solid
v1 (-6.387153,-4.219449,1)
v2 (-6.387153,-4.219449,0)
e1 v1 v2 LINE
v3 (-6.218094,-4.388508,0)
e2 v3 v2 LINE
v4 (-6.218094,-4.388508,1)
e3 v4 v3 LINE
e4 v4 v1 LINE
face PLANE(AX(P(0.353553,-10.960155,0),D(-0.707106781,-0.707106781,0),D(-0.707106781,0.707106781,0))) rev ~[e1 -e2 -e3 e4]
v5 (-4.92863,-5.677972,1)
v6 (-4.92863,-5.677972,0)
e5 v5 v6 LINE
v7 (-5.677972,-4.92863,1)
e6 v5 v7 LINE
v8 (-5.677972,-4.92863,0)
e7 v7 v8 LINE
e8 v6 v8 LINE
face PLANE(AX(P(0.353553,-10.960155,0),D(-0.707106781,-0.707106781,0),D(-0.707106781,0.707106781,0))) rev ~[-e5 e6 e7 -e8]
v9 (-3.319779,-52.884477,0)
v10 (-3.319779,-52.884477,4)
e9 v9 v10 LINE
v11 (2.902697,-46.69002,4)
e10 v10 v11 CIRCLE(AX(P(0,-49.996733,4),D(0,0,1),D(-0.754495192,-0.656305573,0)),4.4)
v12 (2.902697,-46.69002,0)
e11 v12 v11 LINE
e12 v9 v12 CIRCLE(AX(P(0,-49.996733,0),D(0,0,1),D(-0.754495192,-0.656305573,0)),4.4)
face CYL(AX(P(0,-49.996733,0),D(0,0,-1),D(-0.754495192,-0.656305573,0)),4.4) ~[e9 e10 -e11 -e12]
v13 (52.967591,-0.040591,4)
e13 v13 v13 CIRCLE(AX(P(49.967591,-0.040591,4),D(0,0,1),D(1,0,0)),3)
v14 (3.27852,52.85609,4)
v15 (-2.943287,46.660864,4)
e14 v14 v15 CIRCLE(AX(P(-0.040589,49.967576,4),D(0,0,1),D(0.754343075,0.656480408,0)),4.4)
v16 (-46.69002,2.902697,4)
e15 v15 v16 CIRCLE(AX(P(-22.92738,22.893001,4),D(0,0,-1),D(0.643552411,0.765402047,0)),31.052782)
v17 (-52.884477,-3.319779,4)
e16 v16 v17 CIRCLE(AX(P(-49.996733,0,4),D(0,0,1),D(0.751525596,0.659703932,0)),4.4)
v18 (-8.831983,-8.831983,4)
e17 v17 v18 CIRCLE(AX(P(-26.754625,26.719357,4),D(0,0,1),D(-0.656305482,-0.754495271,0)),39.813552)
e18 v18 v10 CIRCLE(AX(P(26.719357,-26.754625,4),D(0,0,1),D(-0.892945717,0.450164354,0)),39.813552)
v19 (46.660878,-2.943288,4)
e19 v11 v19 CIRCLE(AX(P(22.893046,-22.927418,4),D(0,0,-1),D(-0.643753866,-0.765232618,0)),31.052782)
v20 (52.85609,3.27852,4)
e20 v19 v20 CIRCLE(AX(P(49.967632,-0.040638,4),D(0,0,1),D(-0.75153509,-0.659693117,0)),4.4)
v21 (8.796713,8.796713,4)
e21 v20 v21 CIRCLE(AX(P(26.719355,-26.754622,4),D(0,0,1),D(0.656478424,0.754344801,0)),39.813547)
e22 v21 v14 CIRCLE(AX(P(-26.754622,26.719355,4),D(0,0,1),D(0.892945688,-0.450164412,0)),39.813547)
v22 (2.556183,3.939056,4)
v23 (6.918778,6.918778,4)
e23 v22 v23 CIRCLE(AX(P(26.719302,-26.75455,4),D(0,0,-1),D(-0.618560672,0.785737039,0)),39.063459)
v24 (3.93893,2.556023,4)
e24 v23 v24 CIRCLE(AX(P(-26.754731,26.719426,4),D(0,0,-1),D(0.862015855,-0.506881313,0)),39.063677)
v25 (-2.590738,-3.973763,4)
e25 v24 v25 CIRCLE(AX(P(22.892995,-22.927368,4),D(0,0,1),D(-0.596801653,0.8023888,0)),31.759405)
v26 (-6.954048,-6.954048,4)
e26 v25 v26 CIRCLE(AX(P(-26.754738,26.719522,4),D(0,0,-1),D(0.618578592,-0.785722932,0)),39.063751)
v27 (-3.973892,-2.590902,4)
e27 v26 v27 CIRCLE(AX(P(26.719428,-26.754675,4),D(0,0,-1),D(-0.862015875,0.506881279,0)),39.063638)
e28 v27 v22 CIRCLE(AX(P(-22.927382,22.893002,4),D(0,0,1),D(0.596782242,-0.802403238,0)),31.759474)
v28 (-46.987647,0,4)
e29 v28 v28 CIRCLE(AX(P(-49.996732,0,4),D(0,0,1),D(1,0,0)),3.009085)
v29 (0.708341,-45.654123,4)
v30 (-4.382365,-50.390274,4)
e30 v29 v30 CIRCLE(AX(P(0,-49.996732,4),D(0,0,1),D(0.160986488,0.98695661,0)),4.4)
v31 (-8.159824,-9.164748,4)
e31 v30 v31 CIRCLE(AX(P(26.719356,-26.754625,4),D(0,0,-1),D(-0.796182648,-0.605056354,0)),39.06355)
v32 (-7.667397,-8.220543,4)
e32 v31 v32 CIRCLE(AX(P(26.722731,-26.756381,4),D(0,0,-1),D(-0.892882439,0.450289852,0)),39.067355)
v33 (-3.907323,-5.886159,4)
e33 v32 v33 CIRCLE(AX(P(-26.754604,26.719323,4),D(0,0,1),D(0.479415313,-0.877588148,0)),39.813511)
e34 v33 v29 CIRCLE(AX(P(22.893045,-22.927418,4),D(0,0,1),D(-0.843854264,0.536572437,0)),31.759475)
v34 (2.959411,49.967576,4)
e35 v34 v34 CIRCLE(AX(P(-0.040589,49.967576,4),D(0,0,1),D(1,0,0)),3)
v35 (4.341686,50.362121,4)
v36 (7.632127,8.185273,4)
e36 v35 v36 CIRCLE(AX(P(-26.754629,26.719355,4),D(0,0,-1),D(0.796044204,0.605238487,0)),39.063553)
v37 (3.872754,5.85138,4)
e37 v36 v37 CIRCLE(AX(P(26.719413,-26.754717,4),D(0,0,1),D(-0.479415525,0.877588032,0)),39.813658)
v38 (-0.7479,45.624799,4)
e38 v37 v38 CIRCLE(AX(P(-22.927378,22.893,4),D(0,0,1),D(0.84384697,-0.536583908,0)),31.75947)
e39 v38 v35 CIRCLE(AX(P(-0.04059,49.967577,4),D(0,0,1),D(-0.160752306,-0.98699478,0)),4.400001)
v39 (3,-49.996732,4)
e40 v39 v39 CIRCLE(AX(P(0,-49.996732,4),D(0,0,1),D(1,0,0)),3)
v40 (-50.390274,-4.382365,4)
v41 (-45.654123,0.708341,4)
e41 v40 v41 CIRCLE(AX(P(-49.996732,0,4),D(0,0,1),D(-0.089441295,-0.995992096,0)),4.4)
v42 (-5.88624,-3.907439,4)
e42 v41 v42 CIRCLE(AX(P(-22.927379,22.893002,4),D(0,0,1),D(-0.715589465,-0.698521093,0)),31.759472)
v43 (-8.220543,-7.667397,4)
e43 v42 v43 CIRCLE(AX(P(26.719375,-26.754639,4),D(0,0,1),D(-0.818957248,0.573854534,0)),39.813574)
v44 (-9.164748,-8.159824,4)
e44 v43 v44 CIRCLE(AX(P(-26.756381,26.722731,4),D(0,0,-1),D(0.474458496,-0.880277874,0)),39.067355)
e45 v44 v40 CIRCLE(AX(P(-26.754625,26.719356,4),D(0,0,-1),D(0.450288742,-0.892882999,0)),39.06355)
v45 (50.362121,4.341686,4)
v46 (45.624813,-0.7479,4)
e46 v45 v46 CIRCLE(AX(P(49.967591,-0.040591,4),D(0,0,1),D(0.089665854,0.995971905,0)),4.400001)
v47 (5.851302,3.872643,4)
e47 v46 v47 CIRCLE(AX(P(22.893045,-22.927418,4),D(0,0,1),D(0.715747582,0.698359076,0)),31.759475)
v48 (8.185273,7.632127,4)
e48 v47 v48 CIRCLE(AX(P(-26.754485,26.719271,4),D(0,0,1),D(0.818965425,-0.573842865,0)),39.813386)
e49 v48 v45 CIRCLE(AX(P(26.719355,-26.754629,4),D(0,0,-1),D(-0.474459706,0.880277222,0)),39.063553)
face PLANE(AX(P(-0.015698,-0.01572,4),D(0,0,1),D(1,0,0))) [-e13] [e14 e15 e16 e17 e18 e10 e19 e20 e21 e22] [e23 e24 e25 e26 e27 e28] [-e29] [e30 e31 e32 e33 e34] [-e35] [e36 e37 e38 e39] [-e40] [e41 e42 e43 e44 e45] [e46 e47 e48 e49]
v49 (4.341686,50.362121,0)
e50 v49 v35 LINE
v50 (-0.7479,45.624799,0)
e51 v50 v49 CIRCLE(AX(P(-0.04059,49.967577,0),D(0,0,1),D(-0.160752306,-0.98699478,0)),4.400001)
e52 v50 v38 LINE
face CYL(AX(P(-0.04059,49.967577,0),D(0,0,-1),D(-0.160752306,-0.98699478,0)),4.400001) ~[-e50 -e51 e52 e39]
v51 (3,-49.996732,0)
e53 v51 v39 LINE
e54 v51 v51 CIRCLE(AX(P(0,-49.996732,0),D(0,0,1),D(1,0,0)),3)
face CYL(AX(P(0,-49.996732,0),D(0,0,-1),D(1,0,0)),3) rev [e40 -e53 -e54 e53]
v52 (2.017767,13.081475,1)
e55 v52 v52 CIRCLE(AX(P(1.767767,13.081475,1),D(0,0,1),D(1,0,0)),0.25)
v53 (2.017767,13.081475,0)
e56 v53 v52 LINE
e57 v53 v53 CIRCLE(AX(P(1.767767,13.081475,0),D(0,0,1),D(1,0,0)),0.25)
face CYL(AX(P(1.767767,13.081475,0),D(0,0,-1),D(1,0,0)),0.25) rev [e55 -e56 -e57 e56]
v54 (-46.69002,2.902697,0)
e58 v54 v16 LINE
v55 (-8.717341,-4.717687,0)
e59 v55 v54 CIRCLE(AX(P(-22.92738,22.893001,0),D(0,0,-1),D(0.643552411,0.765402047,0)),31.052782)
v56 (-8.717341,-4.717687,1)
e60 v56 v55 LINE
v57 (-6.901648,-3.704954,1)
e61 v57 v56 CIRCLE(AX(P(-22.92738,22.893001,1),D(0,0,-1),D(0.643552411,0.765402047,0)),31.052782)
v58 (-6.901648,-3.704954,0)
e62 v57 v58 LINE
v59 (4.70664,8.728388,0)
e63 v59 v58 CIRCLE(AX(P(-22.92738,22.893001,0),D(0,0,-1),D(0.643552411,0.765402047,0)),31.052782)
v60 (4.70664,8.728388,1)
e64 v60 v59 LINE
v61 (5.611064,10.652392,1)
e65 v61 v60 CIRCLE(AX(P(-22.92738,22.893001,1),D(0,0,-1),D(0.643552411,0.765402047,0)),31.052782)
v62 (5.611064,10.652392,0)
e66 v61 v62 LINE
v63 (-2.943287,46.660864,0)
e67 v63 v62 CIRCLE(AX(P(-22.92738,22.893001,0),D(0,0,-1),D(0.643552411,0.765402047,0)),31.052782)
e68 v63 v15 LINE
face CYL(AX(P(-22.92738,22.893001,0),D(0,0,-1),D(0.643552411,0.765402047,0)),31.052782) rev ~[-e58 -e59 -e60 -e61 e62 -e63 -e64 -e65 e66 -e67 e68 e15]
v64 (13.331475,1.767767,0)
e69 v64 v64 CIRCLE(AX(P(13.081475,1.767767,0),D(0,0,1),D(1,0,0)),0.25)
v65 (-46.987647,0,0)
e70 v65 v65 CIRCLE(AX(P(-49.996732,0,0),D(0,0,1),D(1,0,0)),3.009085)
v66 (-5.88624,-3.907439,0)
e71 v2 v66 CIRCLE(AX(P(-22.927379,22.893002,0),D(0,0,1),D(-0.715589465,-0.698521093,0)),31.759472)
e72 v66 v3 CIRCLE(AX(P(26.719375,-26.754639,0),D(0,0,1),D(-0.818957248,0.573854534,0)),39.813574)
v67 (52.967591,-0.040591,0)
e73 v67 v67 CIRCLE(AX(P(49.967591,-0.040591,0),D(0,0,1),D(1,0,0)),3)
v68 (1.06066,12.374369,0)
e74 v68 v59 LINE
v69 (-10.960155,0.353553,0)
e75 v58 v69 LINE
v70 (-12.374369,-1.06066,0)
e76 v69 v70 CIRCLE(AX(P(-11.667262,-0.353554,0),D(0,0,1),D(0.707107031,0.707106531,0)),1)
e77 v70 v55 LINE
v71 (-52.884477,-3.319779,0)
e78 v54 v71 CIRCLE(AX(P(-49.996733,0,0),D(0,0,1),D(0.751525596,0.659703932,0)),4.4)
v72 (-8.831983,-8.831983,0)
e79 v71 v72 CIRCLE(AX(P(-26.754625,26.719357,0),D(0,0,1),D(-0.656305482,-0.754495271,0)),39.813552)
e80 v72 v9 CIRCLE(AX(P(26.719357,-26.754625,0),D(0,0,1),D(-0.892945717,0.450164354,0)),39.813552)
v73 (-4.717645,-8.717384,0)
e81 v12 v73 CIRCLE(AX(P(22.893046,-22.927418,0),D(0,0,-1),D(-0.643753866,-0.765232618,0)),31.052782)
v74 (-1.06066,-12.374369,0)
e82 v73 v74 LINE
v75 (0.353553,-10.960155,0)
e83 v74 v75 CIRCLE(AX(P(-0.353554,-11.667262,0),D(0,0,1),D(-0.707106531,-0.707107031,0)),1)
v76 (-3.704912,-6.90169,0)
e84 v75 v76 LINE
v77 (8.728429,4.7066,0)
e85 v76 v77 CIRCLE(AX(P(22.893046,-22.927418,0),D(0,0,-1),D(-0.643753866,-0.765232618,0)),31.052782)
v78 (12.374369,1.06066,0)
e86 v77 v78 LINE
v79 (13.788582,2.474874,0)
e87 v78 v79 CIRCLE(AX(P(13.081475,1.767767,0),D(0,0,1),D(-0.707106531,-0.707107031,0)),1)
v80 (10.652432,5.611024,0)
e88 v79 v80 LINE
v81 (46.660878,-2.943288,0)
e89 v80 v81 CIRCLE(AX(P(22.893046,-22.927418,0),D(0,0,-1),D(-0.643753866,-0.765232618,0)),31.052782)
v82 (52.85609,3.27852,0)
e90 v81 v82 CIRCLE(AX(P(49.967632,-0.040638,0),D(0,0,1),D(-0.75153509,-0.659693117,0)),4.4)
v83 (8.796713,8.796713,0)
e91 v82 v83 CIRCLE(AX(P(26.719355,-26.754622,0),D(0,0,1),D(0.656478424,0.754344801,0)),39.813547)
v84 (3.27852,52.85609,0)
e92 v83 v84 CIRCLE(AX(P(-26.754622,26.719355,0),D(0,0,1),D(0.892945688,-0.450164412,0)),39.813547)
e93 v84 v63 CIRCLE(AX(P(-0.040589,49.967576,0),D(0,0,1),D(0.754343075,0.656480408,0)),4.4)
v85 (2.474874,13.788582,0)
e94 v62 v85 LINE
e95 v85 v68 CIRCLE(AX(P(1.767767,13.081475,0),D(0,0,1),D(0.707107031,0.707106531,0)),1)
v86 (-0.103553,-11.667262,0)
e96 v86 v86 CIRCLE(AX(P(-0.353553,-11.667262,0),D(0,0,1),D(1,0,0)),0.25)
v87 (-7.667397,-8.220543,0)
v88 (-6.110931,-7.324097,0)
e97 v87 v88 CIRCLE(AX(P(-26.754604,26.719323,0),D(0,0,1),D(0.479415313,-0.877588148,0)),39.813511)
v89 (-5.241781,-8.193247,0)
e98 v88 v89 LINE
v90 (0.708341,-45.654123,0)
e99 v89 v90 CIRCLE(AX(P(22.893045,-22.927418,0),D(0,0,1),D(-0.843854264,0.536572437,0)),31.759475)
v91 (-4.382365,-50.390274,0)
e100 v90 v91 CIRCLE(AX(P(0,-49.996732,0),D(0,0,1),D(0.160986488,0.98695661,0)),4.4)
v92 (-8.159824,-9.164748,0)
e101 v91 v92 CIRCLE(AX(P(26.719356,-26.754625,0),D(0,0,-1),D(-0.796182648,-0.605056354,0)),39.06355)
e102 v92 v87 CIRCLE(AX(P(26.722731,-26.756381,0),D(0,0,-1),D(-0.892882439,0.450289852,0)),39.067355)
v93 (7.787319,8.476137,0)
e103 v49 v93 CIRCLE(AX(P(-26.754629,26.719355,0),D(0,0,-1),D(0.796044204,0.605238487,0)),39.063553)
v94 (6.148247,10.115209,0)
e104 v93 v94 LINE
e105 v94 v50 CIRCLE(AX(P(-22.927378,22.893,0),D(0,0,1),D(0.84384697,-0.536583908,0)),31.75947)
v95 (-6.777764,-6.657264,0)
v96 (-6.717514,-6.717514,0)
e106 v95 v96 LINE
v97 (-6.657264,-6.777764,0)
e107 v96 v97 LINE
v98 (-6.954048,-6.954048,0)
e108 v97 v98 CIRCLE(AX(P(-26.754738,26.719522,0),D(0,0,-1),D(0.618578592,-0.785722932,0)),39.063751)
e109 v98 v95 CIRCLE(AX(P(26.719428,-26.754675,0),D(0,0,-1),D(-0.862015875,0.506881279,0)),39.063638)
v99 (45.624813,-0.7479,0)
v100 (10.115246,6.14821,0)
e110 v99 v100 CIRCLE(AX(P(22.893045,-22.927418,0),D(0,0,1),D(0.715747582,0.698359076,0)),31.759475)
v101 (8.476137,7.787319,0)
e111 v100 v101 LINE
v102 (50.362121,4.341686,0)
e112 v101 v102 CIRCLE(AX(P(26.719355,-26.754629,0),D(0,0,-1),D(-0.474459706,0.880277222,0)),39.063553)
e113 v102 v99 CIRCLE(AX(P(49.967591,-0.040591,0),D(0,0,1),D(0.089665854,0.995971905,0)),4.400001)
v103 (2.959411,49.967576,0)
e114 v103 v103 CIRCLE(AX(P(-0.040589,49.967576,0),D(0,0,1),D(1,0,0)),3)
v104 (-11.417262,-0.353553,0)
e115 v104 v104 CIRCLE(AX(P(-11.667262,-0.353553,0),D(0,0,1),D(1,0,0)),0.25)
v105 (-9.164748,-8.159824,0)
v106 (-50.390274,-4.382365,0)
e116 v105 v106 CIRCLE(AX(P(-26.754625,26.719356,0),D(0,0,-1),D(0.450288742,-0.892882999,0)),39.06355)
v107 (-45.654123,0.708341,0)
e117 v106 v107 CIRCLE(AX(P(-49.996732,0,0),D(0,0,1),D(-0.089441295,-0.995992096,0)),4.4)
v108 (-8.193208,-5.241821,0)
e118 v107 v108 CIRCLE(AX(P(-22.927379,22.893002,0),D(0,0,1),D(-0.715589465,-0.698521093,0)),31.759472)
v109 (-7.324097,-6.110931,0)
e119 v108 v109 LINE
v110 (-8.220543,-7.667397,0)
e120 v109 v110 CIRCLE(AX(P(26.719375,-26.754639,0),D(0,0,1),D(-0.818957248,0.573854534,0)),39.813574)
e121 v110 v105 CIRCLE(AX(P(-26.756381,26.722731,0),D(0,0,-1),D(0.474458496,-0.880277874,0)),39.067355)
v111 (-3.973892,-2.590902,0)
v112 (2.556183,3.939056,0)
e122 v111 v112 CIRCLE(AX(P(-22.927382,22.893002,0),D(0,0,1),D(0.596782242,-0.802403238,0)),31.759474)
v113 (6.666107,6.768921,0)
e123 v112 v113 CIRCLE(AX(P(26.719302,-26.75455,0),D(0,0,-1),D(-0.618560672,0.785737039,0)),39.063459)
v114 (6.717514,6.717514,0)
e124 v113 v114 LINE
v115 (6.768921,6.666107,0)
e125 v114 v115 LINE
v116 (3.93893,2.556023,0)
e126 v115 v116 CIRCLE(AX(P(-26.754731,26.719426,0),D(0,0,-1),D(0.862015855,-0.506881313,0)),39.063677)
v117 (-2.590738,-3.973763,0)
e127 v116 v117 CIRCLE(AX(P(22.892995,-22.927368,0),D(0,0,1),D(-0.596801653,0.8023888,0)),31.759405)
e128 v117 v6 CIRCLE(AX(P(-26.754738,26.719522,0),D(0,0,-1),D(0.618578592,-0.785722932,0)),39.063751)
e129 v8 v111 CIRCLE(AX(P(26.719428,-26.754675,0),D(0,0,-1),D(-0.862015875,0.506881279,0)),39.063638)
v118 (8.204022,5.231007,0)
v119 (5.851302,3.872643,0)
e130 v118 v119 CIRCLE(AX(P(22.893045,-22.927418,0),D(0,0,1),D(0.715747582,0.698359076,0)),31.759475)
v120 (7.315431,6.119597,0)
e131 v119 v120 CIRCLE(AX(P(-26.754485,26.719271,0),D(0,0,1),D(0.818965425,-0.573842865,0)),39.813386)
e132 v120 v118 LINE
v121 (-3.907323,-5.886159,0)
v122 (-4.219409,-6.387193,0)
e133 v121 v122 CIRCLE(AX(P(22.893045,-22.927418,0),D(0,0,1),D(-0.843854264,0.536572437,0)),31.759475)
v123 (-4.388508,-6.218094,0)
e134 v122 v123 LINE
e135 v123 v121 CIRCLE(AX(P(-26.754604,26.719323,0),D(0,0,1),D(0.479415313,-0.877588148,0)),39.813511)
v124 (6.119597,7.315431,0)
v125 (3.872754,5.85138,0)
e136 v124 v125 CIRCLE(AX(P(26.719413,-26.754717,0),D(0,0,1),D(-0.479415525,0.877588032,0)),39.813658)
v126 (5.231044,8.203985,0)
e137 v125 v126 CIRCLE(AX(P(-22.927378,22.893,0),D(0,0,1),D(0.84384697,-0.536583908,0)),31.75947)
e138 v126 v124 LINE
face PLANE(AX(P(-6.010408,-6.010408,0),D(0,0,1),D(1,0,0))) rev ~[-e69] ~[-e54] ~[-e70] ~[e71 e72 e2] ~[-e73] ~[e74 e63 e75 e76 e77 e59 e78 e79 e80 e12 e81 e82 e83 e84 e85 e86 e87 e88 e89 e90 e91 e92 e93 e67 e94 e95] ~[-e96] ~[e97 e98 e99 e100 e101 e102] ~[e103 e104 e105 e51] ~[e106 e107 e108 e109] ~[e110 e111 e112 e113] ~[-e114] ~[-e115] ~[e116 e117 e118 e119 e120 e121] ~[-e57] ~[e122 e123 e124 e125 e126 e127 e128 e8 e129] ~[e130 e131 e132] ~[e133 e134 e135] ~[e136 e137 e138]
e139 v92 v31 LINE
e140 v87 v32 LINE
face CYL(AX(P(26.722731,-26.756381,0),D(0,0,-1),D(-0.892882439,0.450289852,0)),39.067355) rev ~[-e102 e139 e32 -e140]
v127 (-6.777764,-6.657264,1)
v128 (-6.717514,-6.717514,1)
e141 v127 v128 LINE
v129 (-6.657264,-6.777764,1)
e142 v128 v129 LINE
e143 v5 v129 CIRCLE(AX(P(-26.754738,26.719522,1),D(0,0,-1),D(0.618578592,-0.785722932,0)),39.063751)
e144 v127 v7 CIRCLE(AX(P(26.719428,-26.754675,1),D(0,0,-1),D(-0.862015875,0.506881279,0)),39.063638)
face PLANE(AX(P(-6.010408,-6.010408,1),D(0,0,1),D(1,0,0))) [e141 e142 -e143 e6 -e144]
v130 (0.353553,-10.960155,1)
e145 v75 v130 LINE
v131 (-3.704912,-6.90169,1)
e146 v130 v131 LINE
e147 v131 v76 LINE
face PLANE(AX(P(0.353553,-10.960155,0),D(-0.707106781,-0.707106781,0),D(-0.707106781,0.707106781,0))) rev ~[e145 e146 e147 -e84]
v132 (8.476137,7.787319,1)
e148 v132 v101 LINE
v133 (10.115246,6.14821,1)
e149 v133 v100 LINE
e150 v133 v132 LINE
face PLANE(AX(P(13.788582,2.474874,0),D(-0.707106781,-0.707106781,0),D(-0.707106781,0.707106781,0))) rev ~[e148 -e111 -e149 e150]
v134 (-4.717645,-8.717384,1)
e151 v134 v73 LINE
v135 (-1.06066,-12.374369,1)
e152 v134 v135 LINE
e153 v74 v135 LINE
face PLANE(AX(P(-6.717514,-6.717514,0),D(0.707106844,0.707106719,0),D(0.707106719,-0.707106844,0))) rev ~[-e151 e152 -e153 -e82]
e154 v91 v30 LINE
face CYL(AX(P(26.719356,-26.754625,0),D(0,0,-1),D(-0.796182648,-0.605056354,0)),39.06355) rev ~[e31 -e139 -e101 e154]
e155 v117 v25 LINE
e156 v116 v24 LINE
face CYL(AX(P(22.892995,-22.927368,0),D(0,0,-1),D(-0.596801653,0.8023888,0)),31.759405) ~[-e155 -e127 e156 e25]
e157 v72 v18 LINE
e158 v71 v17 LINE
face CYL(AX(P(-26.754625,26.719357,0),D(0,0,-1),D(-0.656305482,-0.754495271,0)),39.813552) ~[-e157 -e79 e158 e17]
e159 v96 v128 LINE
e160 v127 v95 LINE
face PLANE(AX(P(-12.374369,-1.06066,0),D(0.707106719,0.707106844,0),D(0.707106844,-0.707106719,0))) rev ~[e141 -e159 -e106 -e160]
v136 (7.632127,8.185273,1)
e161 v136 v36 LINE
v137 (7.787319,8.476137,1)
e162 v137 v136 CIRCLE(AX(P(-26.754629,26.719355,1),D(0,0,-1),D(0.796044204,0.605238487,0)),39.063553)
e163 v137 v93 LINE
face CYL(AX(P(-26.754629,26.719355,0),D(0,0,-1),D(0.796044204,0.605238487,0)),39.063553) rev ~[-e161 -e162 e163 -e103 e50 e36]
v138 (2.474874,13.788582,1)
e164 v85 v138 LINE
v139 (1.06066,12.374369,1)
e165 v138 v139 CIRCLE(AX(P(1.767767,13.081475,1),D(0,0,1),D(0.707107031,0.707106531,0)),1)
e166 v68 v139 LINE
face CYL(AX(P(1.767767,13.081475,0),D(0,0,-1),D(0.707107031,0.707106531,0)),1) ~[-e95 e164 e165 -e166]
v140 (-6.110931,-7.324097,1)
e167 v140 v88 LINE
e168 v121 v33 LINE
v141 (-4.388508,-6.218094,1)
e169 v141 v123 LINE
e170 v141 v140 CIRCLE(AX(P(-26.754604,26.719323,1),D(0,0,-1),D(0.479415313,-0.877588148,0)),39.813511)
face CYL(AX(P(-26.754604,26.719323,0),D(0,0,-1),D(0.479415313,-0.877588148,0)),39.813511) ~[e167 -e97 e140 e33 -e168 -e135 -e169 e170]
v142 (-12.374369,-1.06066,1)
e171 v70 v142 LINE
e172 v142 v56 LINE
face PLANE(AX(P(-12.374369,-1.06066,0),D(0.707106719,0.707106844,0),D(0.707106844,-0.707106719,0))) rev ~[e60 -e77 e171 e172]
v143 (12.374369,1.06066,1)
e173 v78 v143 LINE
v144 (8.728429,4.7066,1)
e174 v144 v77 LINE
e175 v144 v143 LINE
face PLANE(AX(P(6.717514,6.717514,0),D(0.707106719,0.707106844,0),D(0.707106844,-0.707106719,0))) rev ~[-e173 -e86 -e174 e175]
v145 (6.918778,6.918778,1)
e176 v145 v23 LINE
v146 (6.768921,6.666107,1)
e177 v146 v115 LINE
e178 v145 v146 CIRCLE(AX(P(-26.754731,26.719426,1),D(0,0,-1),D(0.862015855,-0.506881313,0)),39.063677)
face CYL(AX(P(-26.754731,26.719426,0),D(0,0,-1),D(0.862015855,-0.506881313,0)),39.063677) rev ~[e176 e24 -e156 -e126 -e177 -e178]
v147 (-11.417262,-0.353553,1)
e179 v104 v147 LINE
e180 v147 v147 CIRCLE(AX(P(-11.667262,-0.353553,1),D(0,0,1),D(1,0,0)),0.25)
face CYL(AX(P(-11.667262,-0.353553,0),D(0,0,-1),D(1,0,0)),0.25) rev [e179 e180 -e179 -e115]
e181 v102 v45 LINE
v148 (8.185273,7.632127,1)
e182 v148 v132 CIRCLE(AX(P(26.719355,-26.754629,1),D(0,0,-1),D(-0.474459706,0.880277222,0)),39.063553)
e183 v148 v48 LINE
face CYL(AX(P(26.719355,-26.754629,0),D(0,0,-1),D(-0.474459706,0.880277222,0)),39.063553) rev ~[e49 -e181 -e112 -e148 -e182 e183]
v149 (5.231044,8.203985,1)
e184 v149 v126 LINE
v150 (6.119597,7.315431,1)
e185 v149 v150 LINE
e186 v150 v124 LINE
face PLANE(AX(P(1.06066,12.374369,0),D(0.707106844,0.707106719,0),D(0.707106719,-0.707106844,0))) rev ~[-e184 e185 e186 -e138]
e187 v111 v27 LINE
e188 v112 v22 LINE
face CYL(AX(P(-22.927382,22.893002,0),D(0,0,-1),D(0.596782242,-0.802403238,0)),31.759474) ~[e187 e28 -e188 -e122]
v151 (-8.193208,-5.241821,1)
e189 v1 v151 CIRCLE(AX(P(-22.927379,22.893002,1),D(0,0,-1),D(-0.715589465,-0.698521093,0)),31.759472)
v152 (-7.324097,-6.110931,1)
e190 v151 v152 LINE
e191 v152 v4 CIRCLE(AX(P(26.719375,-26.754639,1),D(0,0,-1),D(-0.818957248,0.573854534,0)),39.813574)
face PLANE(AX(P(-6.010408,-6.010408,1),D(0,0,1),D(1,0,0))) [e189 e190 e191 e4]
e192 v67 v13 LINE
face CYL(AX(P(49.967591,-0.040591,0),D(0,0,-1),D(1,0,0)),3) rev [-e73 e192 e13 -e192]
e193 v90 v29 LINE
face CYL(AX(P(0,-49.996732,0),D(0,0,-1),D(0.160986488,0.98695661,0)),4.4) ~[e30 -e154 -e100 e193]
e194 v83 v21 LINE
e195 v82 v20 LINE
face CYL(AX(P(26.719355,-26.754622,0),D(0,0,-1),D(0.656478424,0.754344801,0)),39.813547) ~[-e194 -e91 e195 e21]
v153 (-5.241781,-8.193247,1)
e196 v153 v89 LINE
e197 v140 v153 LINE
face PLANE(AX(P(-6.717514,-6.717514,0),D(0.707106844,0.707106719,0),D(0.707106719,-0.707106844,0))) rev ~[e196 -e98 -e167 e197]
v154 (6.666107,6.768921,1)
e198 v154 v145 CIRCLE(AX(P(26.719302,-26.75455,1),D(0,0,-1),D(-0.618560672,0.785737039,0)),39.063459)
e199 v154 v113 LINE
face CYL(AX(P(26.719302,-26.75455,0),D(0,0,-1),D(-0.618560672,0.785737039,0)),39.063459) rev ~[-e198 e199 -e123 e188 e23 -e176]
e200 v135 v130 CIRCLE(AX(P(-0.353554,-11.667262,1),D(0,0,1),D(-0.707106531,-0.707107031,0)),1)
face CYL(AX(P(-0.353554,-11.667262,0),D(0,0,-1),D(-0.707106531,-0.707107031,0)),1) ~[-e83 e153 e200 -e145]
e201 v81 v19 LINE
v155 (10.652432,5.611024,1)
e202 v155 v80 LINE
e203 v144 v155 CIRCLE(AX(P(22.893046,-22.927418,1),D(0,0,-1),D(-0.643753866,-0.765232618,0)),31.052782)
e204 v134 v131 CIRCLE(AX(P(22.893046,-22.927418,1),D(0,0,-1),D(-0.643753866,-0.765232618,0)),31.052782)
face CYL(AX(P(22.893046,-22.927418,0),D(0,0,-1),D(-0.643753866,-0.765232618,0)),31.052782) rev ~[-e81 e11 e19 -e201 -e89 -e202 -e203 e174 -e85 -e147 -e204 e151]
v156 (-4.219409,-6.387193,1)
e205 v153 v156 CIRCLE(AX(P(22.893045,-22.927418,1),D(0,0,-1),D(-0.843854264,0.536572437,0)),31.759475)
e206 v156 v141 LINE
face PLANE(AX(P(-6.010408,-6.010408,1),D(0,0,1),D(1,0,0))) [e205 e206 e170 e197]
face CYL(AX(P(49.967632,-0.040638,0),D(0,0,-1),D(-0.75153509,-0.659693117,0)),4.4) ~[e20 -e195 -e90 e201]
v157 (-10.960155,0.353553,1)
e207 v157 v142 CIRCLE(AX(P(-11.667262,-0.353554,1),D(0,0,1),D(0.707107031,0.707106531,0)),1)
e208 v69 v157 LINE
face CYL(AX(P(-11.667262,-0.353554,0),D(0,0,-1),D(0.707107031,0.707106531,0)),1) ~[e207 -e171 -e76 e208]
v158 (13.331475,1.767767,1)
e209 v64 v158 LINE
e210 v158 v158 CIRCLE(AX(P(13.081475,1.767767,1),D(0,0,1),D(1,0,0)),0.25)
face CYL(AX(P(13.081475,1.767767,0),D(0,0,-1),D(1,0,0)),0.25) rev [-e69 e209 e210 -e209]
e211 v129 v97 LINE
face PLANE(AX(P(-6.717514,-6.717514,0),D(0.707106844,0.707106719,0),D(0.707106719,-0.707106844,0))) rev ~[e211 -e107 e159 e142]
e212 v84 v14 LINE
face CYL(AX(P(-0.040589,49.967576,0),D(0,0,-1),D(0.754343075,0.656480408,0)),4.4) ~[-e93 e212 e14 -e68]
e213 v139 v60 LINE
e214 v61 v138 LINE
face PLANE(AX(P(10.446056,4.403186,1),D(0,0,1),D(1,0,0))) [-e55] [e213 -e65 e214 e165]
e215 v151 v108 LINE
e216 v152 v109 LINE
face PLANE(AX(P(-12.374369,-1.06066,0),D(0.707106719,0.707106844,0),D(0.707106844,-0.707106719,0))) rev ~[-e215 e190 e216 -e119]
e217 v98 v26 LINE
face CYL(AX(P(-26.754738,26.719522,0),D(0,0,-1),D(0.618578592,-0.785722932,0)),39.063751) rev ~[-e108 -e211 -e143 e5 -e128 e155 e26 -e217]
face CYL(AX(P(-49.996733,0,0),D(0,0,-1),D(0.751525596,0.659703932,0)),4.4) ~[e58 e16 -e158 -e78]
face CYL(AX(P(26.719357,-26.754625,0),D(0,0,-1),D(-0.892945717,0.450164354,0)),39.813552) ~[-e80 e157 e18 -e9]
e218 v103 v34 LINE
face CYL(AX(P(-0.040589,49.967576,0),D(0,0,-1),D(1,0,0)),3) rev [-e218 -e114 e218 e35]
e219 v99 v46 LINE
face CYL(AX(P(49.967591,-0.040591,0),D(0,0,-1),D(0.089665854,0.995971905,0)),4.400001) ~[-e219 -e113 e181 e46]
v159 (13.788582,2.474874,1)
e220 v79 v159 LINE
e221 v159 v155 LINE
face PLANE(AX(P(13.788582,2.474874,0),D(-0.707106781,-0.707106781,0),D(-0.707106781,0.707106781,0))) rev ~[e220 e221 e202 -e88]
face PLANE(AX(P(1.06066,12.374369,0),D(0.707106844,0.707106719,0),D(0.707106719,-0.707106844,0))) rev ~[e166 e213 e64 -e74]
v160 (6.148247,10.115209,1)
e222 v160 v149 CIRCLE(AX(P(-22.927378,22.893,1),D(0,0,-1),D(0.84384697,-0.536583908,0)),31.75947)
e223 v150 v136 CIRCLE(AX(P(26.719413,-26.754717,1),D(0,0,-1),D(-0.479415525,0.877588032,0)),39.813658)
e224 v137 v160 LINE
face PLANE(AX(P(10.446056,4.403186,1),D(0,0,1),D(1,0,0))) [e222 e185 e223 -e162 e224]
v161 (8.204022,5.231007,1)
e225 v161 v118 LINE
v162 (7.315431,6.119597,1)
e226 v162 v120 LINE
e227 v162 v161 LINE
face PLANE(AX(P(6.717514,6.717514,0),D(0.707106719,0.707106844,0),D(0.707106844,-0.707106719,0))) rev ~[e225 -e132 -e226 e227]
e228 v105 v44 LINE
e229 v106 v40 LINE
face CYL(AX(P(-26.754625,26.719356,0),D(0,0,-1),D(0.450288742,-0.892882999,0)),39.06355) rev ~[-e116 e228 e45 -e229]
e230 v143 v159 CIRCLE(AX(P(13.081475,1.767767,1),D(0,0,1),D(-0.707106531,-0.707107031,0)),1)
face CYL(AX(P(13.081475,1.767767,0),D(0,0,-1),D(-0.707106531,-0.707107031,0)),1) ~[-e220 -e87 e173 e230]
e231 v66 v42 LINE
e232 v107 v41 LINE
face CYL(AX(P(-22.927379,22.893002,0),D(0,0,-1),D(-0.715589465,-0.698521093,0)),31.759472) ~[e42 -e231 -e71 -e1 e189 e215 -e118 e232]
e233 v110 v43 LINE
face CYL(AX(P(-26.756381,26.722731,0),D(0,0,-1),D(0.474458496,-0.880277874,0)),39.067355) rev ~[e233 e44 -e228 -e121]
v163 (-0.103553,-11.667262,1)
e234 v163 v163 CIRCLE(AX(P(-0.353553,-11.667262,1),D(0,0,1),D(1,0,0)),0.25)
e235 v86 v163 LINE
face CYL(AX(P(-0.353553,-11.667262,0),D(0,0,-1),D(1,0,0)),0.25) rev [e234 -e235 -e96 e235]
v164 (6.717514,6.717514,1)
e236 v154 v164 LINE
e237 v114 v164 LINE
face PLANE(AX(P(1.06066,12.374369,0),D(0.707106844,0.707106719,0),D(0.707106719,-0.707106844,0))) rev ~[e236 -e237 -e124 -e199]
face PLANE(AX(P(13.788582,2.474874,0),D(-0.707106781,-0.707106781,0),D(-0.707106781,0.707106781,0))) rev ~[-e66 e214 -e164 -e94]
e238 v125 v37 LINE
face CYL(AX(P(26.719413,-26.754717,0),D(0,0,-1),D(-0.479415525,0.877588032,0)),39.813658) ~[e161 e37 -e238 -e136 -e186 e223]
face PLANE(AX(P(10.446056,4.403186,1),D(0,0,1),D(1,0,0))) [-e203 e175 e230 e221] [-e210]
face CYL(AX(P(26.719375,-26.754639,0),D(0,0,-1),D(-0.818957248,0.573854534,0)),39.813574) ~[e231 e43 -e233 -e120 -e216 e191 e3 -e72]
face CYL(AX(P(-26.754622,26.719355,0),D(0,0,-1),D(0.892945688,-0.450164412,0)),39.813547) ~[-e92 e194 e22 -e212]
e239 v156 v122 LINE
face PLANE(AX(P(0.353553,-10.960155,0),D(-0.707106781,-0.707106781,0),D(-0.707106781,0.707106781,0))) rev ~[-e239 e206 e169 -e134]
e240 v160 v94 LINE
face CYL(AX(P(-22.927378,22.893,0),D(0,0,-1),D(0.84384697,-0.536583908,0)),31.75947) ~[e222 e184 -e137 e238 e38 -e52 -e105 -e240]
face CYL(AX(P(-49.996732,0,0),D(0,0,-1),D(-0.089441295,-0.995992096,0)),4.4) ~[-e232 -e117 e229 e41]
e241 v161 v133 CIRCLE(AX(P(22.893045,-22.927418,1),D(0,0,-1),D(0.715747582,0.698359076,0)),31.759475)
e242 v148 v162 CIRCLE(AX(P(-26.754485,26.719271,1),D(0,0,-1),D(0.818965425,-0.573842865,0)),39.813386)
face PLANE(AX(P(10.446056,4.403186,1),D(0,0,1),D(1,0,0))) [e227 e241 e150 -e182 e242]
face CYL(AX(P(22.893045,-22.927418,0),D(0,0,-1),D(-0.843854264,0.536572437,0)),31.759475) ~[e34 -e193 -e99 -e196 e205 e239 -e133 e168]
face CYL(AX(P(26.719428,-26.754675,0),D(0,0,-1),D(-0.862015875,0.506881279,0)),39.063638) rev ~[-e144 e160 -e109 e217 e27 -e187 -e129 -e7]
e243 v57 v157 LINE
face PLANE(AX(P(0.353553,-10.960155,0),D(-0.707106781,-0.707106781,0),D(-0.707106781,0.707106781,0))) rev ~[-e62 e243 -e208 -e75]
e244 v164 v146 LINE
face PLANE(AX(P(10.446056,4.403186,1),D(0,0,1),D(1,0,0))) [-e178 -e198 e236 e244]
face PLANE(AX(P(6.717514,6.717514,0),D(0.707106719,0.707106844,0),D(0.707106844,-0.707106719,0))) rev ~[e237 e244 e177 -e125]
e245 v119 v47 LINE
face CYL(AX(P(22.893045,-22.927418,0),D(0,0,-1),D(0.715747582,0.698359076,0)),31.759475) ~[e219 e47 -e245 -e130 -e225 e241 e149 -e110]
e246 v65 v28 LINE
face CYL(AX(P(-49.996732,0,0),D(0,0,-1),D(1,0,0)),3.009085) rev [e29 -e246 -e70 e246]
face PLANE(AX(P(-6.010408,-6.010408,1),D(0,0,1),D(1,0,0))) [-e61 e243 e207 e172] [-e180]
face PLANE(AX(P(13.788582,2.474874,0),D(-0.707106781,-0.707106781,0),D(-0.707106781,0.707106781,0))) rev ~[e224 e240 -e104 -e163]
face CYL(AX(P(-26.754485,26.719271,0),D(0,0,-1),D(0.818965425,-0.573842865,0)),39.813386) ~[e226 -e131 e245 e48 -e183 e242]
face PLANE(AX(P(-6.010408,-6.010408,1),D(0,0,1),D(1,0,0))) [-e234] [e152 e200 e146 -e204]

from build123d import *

# Parameters (mm, degrees)
F0_R     = 3
F0_R_2   = 3.009085
F2_DEPTH = 4
F1_R     = 0.25
F3_DEPTH = 1


with BuildPart() as f2:
    # F0 (on Top) → F2 (new body)
    with BuildSketch(Plane.XY):
        with BuildLine():
            ThreePointArc((-2.943287, 46.660864), (-0.966878, 0.938237), (-46.69002, 2.902697))
            ThreePointArc((-46.69002, 2.902697), (-53.115015, 3.104241), (-52.884477, -3.319779))
            ThreePointArc((-52.884477, -3.319779), (-31.69787, -12.786126), (-8.831983, -8.831983))
            ThreePointArc((-8.831983, -8.831983), (-12.786126, -31.69787), (-3.319779, -52.884477))
            ThreePointArc((-3.319779, -52.884477), (3.104241, -53.115015), (2.902697, -46.69002))
            ThreePointArc((2.902697, -46.69002), (0.938286, -0.966912), (46.660878, -2.943288))
            ThreePointArc((46.660878, -2.943288), (53.085559, -3.145237), (52.85609, 3.27852))
            ThreePointArc((52.85609, 3.27852), (31.667127, 12.75029), (8.796713, 8.796713))
            ThreePointArc((8.796713, 8.796713), (12.75029, 31.667127), (3.27852, 52.85609))
            ThreePointArc((3.27852, 52.85609), (-3.145192, 53.085499), (-2.943287, 46.660864))
        make_face()
        with BuildLine():
            ThreePointArc((-3.907323, -5.886159), (-8.65465, -26.588997), (0.708341, -45.654123))
            ThreePointArc((0.708341, -45.654123), (-2.997064, -46.775303), (-4.382365, -50.390274))
            ThreePointArc((-4.382365, -50.390274), (-12.181233, -30.319052), (-8.159824, -9.164748))
            ThreePointArc((-8.159824, -9.164748), (-7.916828, -8.690968), (-7.667397, -8.220543))
            ThreePointArc((-7.667397, -8.220543), (-5.754898, -7.105639), (-3.907323, -5.886159))
        make_face(mode=Mode.SUBTRACT)
        with BuildLine():
            ThreePointArc((-50.390274, -4.382365), (-46.775303, -2.997064), (-45.654123, 0.708341))
            ThreePointArc((-45.654123, 0.708341), (-26.589057, -8.654679), (-5.88624, -3.907439))
            ThreePointArc((-5.88624, -3.907439), (-7.105676, -5.754958), (-8.220543, -7.667397))
            ThreePointArc((-8.220543, -7.667397), (-8.690968, -7.916828), (-9.164748, -8.159824))
            ThreePointArc((-9.164748, -8.159824), (-30.319052, -12.181233), (-50.390274, -4.382365))
        make_face(mode=Mode.SUBTRACT)
        with BuildLine():
            ThreePointArc((-6.954048, -6.954048), (-5.537825, -4.72203), (-3.973892, -2.590902))
            ThreePointArc((-3.973892, -2.590902), (-0.470244, 0.435462), (2.556183, 3.939056))
            ThreePointArc((2.556183, 3.939056), (4.687049, 5.502753), (6.918778, 6.918778))
            ThreePointArc((6.918778, 6.918778), (5.502695, 4.686965), (3.93893, 2.556023))
            ThreePointArc((3.93893, 2.556023), (0.435502, -0.47028), (-2.590738, -3.973763))
            ThreePointArc((-2.590738, -3.973763), (-4.721944, -5.537766), (-6.954048, -6.954048))
        make_face(mode=Mode.SUBTRACT)
        with Locations((0, -49.996732)):
            Circle(F0_R, mode=Mode.SUBTRACT)
        with Locations((49.967591, -0.040591)):
            Circle(F0_R, mode=Mode.SUBTRACT)
        with Locations((-49.996732, 0)):
            Circle(F0_R_2, mode=Mode.SUBTRACT)
        with Locations((-0.040589, 49.967576)):
            Circle(F0_R, mode=Mode.SUBTRACT)
        with BuildLine():
            ThreePointArc((50.362121, 4.341686), (46.746855, 2.957219), (45.624813, -0.7479))
            ThreePointArc((45.624813, -0.7479), (26.55794, 8.619893), (5.851302, 3.872643))
            ThreePointArc((5.851302, 3.872643), (7.070559, 5.719934), (8.185273, 7.632127))
            ThreePointArc((8.185273, 7.632127), (29.757679, 12.190586), (50.362121, 4.341686))
        make_face(mode=Mode.SUBTRACT)
        with BuildLine():
            ThreePointArc((3.872754, 5.85138), (8.619916, 26.557989), (-0.7479, 45.624799))
            ThreePointArc((-0.7479, 45.624799), (2.957225, 46.746845), (4.341686, 50.362121))
            ThreePointArc((4.341686, 50.362121), (12.190586, 29.757679), (7.632127, 8.185273))
            ThreePointArc((7.632127, 8.185273), (5.719991, 7.070594), (3.872754, 5.85138))
        make_face(mode=Mode.SUBTRACT)
    extrude(amount=F2_DEPTH)

    # F1 (on Top) → F3 (join)
    with BuildSketch(Plane.XY):
        with BuildLine():
            ThreePointArc((-10.960155, 0.353553), (-12.374369, 0.353553), (-12.374369, -1.06066))
            Line((-12.374369, -1.06066), (-6.717514, -6.717514))
            Line((-6.717514, -6.717514), (-1.06066, -12.374369))
            ThreePointArc((-1.06066, -12.374369), (0.353553, -12.374369), (0.353553, -10.960155))
            Line((0.353553, -10.960155), (-5.303301, -5.303301))
            Line((-5.303301, -5.303301), (-10.960155, 0.353553))
        make_face()
        with Locations((-0.353553, -11.667262)):
            Circle(F1_R, mode=Mode.SUBTRACT)
        with Locations((-11.667262, -0.353553)):
            Circle(F1_R, mode=Mode.SUBTRACT)
        with BuildLine():
            ThreePointArc((12.374369, 1.06066), (13.788582, 1.06066), (13.788582, 2.474874))
            Line((13.788582, 2.474874), (8.131728, 8.131728))
            Line((8.131728, 8.131728), (6.717514, 6.717514))
            Line((6.717514, 6.717514), (12.374369, 1.06066))
        make_face()
        with Locations((13.081475, 1.767767)):
            Circle(F1_R, mode=Mode.SUBTRACT)
        with BuildLine():
            Line((6.717514, 6.717514), (8.131728, 8.131728))
            Line((8.131728, 8.131728), (2.474874, 13.788582))
            ThreePointArc((2.474874, 13.788582), (1.06066, 13.788582), (1.06066, 12.374369))
            Line((1.06066, 12.374369), (6.717514, 6.717514))
        make_face()
        with Locations((1.767767, 13.081475)):
            Circle(F1_R, mode=Mode.SUBTRACT)
    extrude(amount=F3_DEPTH)


solid = f2.part
